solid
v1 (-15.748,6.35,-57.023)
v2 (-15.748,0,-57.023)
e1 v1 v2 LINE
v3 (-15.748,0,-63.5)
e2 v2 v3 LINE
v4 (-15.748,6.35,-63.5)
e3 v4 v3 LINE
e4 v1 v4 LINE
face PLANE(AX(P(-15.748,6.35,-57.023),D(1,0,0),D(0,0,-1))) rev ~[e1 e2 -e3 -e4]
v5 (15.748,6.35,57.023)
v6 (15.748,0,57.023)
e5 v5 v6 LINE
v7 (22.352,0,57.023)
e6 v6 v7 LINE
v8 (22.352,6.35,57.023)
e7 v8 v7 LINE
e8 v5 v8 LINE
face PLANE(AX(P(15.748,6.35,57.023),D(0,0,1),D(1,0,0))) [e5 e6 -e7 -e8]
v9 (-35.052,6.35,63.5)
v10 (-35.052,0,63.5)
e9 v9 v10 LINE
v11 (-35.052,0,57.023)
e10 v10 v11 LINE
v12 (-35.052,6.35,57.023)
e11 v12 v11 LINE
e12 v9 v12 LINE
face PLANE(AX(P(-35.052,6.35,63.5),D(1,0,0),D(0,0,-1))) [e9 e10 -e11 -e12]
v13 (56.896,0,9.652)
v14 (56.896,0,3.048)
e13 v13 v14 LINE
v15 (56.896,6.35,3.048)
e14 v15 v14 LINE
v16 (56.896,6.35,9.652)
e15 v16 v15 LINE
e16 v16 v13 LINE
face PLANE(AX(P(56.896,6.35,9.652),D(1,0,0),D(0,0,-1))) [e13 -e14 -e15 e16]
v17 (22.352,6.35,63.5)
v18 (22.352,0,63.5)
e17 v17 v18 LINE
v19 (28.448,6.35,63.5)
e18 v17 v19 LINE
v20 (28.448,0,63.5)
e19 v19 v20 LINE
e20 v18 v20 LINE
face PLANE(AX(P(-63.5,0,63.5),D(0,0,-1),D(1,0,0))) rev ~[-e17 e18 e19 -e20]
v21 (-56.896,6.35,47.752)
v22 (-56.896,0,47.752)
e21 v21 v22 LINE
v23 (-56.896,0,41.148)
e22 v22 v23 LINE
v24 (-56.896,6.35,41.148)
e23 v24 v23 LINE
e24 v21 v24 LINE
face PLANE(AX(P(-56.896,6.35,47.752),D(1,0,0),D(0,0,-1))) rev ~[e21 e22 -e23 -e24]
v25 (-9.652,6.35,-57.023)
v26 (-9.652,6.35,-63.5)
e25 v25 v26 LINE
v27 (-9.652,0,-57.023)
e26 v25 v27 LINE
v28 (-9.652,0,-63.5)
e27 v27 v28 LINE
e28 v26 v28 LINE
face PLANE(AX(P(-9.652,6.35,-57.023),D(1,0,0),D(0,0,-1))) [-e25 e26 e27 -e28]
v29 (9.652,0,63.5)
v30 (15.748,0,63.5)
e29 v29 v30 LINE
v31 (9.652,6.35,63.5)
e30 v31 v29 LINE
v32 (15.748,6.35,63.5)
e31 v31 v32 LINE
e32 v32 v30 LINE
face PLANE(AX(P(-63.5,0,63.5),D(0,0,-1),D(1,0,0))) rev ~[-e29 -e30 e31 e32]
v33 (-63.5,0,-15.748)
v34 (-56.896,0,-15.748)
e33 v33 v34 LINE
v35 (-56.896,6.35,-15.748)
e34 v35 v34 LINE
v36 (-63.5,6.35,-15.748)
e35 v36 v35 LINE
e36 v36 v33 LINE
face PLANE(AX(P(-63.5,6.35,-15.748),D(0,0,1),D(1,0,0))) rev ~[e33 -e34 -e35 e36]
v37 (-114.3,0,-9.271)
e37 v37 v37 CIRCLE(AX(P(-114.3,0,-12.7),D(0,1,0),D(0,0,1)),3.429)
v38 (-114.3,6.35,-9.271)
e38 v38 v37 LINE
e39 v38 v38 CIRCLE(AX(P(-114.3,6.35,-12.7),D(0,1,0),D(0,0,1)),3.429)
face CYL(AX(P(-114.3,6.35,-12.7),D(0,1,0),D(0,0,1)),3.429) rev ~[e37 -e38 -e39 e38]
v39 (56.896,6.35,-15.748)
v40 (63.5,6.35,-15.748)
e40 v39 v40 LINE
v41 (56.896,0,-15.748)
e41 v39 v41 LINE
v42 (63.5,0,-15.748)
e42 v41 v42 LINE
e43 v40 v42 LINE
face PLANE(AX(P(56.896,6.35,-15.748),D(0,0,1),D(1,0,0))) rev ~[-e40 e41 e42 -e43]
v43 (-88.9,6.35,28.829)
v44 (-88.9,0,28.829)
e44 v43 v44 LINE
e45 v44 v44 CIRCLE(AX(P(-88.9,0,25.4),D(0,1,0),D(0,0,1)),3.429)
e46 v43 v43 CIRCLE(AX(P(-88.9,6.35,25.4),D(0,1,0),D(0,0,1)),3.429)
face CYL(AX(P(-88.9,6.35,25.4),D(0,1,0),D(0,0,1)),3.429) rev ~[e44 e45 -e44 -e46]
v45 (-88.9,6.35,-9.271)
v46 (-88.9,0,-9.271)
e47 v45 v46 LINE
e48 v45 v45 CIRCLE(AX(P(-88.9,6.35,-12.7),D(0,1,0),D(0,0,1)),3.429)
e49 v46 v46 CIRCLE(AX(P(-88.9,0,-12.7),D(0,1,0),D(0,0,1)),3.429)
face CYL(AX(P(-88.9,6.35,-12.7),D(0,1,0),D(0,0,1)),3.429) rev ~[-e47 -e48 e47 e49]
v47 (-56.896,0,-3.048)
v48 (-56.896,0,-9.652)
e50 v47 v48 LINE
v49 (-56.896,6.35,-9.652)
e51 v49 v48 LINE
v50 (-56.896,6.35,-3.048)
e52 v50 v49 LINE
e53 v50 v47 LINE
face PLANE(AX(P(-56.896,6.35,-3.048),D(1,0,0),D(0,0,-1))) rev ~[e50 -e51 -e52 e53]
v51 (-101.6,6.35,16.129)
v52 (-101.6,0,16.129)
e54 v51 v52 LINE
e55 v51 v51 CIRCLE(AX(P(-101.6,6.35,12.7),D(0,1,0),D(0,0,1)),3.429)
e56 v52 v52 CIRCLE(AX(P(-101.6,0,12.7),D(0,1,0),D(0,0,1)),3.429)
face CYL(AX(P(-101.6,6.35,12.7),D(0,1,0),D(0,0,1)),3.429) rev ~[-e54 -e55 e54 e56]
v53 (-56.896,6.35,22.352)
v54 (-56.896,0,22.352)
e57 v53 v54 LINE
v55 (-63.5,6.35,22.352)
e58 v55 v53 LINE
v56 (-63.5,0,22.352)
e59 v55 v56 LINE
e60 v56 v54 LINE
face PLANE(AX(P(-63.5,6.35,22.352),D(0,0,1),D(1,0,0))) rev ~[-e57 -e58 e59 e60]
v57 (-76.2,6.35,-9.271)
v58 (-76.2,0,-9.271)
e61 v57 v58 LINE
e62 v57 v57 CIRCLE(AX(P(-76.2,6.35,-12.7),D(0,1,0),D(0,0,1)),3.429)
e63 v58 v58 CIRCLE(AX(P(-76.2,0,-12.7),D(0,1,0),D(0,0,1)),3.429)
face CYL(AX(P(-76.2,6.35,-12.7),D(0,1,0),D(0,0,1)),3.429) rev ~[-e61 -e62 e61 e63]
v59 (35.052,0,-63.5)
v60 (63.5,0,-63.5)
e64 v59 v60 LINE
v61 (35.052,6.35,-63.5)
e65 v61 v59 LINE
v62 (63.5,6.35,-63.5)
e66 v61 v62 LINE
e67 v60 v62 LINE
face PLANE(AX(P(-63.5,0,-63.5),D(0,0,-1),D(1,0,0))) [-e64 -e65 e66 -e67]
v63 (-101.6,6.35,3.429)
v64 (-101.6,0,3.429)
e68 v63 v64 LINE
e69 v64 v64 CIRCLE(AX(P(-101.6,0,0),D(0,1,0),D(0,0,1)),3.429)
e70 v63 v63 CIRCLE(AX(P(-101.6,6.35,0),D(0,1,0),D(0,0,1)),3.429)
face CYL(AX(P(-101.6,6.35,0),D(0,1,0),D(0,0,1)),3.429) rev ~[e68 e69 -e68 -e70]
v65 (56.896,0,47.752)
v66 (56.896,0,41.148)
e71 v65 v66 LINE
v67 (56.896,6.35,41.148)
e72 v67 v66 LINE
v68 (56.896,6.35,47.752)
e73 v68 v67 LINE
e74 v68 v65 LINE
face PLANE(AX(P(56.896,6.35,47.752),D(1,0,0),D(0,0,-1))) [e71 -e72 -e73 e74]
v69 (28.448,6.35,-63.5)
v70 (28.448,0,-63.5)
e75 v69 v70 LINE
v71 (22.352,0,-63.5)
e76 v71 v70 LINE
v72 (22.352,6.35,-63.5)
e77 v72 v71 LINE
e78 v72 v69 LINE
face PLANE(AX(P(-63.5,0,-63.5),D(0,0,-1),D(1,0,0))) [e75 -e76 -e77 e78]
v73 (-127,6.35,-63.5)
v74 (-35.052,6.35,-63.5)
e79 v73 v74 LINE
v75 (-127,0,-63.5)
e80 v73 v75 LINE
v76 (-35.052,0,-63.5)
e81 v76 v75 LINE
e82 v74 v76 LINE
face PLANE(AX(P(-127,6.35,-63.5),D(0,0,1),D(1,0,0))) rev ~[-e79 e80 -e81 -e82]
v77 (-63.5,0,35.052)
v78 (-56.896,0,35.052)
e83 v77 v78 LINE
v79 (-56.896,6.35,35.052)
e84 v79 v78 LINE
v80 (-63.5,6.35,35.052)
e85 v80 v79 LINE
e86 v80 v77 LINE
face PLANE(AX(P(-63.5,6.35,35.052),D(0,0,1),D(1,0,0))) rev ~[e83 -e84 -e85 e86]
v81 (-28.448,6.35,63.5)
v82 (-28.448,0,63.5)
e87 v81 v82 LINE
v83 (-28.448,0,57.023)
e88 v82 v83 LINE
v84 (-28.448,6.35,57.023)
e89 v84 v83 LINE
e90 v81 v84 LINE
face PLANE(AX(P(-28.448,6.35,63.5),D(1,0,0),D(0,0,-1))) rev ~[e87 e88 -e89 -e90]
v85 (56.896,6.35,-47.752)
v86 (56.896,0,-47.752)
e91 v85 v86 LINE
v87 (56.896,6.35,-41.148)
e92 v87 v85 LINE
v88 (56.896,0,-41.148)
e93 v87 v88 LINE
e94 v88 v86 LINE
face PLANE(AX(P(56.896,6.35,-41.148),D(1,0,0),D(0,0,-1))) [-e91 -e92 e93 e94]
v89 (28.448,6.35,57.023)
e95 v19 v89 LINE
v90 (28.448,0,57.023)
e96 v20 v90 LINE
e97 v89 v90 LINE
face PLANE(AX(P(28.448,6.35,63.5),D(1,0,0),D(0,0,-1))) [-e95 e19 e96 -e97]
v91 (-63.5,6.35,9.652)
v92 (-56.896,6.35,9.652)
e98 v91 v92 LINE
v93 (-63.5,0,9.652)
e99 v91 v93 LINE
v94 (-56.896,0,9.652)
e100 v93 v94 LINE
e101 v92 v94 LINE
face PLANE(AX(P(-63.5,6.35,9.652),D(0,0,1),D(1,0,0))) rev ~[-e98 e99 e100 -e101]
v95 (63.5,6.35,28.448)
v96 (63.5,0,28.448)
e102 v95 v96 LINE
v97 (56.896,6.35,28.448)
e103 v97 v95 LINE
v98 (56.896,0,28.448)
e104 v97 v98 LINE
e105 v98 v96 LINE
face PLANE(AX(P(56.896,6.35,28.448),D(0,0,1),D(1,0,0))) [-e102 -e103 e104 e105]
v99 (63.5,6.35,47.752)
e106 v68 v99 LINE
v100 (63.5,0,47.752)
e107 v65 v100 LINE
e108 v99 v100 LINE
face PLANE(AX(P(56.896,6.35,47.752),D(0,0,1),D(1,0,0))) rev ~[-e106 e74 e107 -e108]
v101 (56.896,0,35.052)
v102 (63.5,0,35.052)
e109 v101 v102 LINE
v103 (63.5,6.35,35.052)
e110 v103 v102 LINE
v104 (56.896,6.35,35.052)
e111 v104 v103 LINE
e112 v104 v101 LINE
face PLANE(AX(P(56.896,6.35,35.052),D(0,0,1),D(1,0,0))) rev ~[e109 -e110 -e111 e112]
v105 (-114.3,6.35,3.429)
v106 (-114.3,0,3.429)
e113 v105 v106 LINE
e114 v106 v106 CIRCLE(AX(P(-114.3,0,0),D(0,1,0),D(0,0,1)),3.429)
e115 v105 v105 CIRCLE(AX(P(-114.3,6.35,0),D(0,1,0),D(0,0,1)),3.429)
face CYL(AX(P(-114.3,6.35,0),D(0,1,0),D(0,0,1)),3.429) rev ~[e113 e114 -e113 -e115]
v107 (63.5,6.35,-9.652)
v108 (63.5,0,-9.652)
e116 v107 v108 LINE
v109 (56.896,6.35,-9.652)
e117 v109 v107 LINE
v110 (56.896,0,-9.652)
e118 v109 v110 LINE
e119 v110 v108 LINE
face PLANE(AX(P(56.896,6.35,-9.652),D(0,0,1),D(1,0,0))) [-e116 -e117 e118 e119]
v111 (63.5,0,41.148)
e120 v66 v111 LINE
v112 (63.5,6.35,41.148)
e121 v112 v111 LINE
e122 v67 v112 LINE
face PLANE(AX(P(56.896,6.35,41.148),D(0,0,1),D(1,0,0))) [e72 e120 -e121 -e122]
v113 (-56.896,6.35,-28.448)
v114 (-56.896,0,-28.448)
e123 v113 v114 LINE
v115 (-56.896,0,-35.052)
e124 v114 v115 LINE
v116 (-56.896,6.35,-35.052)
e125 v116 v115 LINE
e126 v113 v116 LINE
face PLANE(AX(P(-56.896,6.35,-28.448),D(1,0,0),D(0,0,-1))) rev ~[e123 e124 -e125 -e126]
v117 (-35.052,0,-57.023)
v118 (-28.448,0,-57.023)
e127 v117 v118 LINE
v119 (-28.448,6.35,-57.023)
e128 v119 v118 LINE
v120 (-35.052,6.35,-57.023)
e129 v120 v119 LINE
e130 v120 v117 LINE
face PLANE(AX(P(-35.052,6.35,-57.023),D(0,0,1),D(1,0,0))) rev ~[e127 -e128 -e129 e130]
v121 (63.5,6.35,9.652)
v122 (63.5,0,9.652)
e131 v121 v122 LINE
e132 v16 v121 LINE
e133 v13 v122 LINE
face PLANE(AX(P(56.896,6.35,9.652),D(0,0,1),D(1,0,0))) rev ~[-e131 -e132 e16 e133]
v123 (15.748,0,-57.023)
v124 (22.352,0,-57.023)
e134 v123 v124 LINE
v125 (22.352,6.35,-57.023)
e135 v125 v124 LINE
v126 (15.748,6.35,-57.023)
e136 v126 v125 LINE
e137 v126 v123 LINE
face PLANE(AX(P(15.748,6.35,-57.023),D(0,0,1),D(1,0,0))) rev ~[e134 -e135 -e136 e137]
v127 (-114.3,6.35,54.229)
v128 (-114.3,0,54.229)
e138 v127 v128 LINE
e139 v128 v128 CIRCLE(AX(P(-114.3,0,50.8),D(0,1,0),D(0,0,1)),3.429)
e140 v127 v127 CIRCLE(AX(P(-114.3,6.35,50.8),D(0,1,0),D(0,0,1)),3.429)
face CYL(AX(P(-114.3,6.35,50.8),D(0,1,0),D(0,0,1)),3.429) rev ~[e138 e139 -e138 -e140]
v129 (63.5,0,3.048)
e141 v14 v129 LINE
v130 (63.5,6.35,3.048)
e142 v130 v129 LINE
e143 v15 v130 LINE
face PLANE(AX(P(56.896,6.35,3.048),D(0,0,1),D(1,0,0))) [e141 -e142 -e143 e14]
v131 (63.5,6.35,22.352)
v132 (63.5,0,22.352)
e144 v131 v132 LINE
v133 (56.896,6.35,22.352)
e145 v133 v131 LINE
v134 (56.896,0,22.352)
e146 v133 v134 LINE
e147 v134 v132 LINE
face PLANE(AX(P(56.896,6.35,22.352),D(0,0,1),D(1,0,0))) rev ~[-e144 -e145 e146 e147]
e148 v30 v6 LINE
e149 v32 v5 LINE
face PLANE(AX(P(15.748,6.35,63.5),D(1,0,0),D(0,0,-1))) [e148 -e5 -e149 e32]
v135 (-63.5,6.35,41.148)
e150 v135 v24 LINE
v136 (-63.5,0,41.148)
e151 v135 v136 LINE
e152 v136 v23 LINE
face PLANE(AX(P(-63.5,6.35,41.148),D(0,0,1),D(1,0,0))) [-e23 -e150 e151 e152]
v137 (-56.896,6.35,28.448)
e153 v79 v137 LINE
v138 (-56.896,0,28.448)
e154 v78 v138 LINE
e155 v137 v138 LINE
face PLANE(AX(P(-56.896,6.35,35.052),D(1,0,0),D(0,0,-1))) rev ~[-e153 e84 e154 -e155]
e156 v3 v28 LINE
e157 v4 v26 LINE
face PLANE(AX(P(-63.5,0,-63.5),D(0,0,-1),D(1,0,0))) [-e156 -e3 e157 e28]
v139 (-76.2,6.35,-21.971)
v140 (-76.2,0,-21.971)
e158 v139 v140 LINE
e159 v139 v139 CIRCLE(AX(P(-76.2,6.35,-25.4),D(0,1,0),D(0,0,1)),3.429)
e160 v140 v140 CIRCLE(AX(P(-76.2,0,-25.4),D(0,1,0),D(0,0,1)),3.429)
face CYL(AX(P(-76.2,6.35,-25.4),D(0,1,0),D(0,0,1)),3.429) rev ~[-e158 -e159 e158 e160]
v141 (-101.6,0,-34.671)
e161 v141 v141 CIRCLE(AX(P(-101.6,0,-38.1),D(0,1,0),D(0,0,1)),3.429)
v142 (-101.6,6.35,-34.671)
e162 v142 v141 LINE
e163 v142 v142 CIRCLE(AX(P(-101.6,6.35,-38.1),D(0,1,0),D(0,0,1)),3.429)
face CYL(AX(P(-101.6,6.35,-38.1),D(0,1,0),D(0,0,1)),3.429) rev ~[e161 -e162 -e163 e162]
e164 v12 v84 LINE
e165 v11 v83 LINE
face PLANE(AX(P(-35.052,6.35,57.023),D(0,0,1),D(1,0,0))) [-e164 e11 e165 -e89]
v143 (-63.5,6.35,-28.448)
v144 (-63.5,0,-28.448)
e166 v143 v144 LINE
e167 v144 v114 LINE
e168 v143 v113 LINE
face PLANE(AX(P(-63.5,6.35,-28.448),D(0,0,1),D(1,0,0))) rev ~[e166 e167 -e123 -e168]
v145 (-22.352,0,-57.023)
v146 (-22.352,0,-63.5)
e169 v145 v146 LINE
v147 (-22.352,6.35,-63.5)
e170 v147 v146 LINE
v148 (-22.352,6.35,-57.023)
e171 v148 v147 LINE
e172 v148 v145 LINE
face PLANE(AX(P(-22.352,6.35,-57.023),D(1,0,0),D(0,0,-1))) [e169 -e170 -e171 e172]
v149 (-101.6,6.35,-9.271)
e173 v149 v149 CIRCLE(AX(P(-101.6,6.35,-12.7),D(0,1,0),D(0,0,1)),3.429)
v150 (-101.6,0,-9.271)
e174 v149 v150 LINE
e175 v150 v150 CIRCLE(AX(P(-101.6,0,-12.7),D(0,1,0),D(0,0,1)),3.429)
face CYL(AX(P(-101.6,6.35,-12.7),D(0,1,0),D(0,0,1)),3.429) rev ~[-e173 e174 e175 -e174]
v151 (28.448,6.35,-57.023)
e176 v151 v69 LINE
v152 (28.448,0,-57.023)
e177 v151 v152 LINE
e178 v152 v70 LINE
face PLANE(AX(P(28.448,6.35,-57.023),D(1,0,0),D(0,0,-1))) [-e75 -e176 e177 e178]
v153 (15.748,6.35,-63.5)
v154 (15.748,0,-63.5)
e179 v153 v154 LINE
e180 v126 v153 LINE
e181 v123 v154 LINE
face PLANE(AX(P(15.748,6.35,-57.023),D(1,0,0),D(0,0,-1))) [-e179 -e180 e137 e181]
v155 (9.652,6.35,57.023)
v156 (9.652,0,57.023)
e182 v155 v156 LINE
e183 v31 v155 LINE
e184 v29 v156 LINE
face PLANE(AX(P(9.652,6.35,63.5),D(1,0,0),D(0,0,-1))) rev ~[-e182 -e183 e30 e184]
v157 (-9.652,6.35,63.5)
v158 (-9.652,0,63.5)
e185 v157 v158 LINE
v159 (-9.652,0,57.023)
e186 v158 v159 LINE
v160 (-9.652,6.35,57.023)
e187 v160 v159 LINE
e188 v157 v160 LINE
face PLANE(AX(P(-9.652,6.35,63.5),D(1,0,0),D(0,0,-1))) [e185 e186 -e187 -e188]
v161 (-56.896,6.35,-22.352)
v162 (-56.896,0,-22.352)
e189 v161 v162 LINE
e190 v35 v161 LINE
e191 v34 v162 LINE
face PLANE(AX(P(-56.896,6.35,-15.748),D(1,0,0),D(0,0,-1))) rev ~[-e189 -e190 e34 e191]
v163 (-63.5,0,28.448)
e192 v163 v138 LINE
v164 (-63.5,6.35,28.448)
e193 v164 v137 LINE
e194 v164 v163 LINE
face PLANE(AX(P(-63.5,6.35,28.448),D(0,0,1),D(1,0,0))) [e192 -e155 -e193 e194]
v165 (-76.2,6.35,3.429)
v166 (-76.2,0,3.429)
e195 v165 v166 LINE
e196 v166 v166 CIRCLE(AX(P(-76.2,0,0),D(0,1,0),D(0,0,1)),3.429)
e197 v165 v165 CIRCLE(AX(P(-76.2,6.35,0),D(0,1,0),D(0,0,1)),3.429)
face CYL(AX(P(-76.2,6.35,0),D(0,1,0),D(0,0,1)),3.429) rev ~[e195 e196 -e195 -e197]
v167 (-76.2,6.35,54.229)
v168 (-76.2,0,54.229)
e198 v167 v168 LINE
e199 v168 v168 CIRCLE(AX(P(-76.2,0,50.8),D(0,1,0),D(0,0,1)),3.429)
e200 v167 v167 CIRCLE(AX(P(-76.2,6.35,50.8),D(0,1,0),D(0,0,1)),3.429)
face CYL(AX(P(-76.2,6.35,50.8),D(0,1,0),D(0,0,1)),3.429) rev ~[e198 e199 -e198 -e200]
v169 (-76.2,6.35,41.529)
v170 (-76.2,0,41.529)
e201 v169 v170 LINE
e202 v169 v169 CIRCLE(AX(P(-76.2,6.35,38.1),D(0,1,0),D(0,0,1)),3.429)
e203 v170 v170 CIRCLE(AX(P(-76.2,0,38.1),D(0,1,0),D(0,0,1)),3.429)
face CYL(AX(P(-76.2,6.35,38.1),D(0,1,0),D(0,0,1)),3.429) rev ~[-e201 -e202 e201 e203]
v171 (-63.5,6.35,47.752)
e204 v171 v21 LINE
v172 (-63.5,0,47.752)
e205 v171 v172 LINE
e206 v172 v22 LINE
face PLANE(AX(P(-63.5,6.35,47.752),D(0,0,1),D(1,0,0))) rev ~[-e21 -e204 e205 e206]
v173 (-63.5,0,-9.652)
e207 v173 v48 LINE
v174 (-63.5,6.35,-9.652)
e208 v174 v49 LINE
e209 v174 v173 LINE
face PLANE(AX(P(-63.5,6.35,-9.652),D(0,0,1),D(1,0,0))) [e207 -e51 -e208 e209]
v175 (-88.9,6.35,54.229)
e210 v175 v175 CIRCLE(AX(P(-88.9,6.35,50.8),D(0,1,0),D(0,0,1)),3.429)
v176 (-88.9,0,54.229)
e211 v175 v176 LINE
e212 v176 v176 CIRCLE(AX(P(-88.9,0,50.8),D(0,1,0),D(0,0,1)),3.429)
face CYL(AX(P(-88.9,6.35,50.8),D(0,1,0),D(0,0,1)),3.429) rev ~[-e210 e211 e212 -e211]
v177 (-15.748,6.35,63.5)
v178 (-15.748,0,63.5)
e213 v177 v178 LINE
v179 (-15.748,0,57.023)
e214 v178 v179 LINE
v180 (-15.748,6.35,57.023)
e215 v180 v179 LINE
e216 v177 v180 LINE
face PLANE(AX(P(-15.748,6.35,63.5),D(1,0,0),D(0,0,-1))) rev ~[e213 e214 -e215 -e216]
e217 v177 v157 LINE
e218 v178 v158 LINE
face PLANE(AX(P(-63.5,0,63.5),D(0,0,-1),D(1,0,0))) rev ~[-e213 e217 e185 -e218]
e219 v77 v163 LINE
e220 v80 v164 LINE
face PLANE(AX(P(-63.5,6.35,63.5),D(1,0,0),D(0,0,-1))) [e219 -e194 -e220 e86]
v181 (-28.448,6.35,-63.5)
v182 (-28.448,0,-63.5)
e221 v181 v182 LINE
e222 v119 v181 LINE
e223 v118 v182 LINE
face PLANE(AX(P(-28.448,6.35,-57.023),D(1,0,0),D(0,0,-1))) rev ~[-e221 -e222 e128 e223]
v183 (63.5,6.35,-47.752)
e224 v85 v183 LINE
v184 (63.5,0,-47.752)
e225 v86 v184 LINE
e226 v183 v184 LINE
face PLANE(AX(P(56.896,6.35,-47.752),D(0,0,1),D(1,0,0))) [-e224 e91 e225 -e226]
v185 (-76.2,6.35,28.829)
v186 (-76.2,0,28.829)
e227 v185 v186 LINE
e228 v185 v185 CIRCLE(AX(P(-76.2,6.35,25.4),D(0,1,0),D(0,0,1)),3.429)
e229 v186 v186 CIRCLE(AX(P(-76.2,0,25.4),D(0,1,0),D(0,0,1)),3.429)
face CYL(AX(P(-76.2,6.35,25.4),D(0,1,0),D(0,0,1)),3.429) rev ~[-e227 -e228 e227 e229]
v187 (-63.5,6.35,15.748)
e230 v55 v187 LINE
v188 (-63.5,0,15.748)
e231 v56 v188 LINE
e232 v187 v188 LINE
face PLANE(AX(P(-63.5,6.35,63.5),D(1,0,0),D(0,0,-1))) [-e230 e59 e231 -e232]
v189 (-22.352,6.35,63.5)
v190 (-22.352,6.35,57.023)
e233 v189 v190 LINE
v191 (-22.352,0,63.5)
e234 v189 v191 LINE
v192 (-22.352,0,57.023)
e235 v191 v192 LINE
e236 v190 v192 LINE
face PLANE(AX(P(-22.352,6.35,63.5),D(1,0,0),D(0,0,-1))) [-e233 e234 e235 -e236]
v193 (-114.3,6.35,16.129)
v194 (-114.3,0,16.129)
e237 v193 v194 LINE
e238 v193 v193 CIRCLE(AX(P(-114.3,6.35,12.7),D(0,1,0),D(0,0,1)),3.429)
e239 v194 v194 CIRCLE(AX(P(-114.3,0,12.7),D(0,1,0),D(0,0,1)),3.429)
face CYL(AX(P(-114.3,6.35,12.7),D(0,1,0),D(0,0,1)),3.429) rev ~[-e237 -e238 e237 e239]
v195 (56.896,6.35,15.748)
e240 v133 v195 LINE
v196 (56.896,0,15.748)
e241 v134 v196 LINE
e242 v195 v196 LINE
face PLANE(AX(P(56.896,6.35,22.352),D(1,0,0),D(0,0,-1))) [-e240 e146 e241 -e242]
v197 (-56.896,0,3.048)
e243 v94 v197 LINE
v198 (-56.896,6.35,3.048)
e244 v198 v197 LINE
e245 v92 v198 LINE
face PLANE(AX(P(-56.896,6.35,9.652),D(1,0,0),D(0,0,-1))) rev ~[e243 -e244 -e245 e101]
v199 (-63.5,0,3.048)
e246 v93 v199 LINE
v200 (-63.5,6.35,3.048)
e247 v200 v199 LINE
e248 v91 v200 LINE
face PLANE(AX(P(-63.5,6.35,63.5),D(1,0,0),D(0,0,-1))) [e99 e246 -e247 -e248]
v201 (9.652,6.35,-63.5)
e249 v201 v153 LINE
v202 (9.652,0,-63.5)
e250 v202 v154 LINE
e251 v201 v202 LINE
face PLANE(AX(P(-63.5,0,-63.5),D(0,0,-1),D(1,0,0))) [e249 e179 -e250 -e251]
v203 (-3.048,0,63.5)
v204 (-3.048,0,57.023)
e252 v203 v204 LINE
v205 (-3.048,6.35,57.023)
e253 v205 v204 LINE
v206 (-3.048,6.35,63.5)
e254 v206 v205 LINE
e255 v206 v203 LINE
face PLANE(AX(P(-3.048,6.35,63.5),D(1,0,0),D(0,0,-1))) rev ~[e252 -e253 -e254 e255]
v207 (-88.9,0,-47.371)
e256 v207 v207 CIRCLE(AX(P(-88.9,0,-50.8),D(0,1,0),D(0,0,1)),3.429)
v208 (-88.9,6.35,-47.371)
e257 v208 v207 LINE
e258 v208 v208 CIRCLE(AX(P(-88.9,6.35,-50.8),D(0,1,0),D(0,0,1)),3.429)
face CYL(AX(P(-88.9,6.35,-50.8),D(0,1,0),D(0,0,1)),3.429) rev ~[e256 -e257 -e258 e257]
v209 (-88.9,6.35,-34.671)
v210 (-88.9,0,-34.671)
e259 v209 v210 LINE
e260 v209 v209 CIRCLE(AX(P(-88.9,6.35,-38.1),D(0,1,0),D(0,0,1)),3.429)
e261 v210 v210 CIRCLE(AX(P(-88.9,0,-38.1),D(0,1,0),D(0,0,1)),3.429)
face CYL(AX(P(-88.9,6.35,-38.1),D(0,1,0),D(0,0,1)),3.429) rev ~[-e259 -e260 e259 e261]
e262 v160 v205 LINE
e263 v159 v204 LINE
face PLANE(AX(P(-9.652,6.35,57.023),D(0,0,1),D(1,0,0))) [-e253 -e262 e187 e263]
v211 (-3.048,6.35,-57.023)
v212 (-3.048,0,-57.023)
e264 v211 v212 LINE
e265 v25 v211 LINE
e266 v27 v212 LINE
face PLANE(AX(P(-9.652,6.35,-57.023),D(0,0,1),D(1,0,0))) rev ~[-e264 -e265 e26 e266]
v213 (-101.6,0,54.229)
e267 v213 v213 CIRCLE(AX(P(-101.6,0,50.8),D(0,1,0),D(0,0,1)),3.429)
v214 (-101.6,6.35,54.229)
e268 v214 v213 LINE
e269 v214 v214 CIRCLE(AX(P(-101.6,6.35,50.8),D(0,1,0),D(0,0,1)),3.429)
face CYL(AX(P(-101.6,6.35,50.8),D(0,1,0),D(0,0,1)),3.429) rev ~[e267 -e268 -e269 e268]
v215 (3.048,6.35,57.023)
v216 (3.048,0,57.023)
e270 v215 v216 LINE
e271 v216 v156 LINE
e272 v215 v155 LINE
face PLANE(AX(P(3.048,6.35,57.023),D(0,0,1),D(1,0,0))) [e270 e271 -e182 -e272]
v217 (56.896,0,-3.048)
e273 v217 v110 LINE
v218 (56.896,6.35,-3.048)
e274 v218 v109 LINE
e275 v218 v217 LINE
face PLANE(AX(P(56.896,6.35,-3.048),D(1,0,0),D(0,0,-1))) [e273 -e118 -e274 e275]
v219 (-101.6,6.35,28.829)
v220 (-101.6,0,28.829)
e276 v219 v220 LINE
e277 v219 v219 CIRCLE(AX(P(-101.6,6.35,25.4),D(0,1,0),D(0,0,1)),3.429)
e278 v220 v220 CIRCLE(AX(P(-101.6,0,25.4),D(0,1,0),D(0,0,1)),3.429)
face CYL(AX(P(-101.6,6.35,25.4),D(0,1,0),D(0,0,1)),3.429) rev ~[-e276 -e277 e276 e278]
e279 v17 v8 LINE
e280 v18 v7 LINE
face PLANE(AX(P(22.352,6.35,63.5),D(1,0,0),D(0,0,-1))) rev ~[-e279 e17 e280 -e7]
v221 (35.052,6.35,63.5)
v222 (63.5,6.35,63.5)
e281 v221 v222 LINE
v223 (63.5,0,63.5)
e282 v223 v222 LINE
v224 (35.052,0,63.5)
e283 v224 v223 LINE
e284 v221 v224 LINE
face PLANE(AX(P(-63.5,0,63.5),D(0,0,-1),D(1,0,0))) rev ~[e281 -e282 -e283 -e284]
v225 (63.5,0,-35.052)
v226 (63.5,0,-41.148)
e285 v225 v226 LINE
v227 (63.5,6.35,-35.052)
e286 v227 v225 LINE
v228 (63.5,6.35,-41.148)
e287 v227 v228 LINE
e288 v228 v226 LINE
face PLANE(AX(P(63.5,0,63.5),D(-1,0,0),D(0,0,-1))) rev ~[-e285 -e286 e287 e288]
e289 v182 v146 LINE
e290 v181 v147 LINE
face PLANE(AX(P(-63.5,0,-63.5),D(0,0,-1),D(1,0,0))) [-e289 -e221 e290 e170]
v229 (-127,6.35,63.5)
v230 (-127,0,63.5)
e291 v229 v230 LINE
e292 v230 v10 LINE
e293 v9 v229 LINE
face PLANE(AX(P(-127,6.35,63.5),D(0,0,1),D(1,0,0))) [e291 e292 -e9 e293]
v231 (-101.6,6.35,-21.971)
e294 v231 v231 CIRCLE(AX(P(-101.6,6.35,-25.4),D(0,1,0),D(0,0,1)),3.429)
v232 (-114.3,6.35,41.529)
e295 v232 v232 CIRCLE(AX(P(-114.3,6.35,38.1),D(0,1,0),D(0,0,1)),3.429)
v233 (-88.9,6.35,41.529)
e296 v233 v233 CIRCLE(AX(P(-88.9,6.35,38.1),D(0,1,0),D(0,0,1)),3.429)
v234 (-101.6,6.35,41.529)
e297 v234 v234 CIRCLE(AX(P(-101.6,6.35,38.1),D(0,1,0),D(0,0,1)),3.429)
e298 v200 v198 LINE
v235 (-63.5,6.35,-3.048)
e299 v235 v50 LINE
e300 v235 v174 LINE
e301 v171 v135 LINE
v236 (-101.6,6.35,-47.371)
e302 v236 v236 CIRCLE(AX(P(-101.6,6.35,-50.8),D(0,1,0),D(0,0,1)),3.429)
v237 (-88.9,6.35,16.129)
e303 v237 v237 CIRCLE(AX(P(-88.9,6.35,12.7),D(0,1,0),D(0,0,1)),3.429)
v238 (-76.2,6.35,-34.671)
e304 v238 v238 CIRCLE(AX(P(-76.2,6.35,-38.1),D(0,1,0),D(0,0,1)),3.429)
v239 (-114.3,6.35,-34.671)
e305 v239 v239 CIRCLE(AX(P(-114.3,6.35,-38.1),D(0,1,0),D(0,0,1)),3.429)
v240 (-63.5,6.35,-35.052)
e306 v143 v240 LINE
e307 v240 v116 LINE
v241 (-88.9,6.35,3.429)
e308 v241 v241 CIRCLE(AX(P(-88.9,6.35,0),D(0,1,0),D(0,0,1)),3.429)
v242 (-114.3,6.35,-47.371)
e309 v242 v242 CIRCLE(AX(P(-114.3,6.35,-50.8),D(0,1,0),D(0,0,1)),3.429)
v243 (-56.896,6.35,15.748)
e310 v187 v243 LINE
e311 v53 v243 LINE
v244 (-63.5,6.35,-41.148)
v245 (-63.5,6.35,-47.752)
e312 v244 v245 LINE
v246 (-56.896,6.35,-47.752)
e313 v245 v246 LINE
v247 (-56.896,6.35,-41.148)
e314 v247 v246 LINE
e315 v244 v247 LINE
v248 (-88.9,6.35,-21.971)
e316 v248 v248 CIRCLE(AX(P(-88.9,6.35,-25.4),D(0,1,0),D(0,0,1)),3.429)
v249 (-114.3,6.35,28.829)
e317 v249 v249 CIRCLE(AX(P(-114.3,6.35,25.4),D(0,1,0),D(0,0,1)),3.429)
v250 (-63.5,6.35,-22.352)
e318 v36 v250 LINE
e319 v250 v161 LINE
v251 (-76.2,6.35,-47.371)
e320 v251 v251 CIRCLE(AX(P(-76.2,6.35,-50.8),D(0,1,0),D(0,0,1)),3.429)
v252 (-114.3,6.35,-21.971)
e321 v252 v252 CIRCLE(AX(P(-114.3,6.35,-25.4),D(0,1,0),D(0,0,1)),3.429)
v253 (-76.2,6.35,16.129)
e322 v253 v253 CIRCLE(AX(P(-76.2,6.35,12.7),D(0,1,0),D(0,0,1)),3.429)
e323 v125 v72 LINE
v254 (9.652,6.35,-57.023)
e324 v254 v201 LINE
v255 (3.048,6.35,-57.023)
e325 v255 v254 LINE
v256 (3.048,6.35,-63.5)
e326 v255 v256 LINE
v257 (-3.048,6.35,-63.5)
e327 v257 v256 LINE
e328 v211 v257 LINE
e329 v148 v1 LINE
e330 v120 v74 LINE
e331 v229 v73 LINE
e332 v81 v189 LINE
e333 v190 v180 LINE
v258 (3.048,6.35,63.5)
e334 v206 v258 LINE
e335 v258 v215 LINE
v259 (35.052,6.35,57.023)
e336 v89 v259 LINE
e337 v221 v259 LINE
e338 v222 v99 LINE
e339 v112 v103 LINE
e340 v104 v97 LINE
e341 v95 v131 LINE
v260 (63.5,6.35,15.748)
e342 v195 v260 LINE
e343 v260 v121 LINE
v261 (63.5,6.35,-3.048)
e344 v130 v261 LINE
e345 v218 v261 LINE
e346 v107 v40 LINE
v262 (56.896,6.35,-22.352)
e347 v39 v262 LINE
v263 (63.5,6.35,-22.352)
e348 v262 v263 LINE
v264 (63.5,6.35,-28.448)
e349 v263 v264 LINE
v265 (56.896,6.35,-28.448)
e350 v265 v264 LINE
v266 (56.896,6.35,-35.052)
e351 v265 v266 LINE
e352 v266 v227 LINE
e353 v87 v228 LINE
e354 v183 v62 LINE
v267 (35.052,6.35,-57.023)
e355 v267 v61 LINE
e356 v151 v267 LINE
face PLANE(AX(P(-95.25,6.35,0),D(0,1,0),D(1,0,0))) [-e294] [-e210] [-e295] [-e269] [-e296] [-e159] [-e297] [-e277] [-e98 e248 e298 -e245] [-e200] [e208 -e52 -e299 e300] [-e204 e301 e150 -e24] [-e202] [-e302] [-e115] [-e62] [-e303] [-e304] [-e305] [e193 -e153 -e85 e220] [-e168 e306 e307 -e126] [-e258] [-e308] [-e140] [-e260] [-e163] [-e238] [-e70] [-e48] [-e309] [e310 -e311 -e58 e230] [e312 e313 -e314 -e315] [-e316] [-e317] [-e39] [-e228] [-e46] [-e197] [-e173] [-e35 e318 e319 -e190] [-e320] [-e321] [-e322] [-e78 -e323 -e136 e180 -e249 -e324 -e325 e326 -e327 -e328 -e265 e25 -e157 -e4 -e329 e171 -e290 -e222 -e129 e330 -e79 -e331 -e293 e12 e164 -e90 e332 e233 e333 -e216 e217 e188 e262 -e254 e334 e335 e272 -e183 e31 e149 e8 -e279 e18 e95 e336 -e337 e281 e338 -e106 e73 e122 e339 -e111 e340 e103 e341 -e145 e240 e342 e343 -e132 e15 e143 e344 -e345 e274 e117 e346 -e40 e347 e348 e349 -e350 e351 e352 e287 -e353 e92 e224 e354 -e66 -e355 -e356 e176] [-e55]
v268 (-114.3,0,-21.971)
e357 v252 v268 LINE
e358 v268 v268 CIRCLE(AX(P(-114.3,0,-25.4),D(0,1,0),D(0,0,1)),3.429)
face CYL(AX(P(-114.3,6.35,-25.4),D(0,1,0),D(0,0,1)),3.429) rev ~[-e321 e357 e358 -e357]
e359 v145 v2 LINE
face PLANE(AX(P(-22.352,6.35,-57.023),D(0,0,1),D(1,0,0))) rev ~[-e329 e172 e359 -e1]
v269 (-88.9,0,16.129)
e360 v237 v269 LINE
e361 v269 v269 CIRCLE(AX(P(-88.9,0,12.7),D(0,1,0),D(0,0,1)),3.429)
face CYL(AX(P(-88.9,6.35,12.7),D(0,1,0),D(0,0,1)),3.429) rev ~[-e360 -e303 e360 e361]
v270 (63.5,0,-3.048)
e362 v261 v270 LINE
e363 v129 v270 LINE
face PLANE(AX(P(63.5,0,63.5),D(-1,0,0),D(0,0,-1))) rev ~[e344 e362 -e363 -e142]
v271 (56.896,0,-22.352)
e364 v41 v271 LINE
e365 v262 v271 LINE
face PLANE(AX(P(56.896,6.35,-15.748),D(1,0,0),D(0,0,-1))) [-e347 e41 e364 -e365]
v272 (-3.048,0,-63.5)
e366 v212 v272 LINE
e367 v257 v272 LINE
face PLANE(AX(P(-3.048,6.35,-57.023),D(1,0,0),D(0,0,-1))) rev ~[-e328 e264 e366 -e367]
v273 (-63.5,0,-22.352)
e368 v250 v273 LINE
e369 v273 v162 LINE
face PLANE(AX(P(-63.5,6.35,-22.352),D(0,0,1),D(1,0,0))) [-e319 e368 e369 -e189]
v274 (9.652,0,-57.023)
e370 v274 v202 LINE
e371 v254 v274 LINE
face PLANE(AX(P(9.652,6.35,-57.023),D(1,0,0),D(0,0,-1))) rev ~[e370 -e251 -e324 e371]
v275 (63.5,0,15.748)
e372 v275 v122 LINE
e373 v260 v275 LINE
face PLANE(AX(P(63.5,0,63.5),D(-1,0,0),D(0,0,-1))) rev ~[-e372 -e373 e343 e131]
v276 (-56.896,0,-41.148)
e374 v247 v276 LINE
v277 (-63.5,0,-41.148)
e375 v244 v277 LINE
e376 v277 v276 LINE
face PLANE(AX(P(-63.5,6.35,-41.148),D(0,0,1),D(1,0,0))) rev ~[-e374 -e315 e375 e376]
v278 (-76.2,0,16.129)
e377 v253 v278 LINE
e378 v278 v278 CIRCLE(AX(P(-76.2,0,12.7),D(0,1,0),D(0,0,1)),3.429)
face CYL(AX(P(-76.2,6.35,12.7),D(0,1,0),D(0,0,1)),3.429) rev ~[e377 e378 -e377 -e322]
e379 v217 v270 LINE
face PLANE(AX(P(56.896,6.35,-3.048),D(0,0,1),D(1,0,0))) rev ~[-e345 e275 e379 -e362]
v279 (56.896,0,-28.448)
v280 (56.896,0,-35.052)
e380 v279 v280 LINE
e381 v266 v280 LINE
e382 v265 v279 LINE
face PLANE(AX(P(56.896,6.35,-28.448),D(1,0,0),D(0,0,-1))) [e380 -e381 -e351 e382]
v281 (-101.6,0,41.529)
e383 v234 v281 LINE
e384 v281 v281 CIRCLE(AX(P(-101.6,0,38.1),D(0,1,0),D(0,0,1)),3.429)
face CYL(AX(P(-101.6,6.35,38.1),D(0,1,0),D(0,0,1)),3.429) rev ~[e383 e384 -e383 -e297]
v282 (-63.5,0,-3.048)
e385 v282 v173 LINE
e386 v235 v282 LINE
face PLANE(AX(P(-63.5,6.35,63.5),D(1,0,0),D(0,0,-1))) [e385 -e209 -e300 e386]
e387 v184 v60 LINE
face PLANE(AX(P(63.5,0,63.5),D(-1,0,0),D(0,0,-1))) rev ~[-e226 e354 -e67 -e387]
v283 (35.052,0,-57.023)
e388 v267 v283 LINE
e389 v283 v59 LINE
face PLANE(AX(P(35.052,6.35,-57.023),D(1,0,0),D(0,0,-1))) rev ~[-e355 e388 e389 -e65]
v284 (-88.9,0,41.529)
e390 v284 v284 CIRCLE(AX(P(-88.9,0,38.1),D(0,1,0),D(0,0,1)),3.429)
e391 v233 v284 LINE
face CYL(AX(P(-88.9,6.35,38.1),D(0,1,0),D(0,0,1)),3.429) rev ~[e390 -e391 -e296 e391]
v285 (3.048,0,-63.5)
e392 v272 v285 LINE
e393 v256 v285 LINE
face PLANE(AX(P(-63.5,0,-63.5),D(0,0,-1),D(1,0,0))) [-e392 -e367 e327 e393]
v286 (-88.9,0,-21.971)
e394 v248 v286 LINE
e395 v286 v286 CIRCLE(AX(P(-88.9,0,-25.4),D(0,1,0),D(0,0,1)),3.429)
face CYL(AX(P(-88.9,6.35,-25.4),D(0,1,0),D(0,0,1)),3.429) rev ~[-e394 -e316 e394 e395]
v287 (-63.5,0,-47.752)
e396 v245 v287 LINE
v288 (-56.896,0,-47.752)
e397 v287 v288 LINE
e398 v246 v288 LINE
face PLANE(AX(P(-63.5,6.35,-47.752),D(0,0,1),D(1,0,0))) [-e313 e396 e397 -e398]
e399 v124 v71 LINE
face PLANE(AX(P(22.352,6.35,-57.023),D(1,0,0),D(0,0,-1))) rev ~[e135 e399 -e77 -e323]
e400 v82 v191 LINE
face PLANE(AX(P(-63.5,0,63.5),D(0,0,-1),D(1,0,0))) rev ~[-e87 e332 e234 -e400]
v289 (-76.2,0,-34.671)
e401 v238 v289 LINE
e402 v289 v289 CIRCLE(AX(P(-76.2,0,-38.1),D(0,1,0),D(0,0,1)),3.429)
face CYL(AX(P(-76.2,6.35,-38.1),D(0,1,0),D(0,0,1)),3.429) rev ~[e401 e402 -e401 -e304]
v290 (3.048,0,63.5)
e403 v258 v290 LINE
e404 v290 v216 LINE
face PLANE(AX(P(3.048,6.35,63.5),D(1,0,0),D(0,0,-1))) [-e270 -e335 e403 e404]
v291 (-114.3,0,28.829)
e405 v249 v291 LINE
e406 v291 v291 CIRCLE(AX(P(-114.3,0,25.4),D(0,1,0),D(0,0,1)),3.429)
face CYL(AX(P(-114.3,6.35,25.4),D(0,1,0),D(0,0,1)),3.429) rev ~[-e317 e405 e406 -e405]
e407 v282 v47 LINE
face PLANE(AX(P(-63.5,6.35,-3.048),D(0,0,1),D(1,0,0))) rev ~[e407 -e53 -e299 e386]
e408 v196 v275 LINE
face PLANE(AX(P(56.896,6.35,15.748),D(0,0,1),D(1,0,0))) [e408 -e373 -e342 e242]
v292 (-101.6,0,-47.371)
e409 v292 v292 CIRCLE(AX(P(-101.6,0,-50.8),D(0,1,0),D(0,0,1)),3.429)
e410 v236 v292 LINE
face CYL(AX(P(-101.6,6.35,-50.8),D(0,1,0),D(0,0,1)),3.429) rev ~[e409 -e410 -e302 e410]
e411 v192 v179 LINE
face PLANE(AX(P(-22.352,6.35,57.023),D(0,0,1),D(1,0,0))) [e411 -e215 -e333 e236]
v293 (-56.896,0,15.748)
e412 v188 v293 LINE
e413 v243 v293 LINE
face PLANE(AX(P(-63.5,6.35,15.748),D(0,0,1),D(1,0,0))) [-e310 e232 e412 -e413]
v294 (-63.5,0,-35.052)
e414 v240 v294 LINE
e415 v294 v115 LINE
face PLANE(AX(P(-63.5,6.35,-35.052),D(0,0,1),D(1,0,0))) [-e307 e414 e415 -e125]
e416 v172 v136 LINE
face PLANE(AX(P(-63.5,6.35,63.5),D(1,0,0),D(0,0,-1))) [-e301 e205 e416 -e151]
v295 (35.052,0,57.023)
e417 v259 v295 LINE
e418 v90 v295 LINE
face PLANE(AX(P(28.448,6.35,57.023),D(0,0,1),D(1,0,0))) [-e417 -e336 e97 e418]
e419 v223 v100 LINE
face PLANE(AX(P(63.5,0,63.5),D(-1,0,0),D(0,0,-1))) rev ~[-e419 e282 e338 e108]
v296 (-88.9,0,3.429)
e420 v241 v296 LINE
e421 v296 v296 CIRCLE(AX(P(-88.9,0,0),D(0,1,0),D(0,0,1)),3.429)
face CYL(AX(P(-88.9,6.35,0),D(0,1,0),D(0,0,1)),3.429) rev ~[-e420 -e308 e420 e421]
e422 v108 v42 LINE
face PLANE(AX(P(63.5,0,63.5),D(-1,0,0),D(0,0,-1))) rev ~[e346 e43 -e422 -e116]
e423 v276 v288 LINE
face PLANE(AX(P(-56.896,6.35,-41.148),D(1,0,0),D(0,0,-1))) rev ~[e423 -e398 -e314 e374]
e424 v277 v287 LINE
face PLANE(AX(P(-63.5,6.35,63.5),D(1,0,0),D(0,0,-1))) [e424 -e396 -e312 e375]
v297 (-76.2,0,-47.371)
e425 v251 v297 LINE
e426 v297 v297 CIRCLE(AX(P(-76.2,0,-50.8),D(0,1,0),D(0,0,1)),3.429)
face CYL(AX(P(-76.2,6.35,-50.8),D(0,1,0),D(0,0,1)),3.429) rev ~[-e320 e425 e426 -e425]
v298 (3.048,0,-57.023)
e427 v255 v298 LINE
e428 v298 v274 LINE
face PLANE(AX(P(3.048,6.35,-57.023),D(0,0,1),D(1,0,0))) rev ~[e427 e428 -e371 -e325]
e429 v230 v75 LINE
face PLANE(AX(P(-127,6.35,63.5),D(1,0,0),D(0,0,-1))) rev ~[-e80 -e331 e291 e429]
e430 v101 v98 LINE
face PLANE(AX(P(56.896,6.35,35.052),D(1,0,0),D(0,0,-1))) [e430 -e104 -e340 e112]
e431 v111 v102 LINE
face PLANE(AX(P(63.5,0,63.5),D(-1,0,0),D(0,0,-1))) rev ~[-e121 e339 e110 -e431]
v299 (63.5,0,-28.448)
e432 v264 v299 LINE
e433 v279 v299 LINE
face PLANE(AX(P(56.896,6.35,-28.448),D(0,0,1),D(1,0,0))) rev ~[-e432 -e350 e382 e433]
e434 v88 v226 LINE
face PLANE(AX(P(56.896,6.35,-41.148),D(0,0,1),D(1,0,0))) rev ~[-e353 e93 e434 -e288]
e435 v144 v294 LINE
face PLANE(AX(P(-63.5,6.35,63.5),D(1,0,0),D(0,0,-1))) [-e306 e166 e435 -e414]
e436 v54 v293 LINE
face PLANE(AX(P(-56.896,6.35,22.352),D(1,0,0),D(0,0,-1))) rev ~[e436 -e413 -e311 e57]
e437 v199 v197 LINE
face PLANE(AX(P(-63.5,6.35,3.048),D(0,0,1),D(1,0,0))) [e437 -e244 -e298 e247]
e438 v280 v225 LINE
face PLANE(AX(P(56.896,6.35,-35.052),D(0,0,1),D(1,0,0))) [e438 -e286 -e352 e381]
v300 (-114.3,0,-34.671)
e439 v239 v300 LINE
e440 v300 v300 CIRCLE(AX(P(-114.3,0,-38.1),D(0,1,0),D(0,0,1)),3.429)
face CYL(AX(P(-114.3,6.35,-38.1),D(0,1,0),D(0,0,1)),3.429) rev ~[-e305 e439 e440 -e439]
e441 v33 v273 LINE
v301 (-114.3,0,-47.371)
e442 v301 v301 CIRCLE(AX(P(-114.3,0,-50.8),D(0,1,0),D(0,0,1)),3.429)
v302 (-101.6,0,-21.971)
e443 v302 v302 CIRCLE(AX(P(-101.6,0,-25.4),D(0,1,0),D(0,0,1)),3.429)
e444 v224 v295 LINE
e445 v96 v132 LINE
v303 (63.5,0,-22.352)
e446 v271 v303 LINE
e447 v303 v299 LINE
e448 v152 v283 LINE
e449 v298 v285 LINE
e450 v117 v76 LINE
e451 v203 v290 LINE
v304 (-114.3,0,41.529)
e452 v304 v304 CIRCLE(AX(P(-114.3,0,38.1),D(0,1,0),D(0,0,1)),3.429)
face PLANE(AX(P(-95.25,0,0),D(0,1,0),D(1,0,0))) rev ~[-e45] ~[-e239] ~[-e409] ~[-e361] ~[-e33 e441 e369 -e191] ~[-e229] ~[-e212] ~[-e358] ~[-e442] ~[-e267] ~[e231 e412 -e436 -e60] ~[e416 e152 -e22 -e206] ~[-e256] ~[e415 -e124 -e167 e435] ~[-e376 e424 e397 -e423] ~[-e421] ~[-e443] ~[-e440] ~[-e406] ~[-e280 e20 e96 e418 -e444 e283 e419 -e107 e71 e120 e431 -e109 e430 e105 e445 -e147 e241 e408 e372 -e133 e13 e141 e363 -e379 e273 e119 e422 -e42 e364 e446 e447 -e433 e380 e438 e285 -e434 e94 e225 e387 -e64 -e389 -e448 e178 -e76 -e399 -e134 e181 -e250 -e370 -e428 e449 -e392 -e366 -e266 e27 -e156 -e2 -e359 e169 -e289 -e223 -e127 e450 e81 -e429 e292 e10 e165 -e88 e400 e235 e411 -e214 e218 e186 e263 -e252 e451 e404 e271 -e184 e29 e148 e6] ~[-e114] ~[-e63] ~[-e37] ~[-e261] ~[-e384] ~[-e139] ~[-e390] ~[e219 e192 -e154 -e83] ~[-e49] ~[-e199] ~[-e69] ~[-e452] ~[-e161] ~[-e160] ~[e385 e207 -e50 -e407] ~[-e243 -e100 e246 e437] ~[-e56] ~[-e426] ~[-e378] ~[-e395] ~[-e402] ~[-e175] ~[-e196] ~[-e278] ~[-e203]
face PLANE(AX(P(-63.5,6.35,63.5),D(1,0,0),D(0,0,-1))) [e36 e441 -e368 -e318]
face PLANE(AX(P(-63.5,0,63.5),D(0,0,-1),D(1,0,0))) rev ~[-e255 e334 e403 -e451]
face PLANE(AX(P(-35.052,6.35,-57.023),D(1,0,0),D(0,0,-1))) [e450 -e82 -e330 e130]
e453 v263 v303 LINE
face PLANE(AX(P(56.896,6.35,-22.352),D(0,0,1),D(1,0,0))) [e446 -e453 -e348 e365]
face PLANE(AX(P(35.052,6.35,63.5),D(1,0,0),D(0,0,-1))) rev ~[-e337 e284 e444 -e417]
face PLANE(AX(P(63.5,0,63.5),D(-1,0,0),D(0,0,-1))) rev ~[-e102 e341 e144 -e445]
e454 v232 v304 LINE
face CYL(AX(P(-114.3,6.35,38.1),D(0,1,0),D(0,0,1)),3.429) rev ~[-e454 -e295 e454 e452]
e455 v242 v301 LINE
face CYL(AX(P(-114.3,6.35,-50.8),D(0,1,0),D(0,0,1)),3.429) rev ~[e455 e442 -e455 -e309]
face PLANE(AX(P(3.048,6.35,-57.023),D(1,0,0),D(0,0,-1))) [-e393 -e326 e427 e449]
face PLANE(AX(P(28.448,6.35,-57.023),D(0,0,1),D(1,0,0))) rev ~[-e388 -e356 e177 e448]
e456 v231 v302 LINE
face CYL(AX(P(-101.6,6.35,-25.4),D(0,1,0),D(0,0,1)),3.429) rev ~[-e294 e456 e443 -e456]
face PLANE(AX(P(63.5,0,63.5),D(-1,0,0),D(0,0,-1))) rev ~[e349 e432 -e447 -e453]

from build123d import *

# Parameters (mm, degrees)
SKETCH1_W           = 127
SKETCH1_H           = 127
BOSS_EXTRUDE1_DEPTH = 6.35
SKETCH2_W           = 6.604
SKETCH2_H           = 6.477
SKETCH2_H_2         = 6.604
CUT_EXTRUDE1_DEPTH  = 91.02678768
SKETCH3_W           = 63.5
SKETCH3_H           = 127
SKETCH3_R           = 3.429
BOSS_EXTRUDE2_DEPTH = 6.35


with BuildPart() as part:
    # Sketch1 → Boss-Extrude1 (new body)
    with BuildSketch(Plane(origin=(0, 0, 0), x_dir=(1, 0, 0), z_dir=(0, 1, 0))):
        Rectangle(SKETCH1_W, SKETCH1_H)
    extrude(amount=BOSS_EXTRUDE1_DEPTH)

    # Sketch2 → Cut-Extrude1 (cut, through all)
    with BuildSketch(Plane(origin=(0, 6.35, 0), x_dir=(1, 0, 0), z_dir=(0, 1, 0))):
        with Locations((-31.75, -60.2615)):
            Rectangle(SKETCH2_W, SKETCH2_H)
        with Locations((-19.05, -60.2615)):
            Rectangle(SKETCH2_W, SKETCH2_H)
        with Locations((-6.35, -60.2615)):
            Rectangle(SKETCH2_W, SKETCH2_H)
        with Locations((6.35, -60.2615)):
            Rectangle(SKETCH2_W, SKETCH2_H)
        with Locations((19.05, -60.2615)):
            Rectangle(SKETCH2_W, SKETCH2_H)
        with Locations((31.75, -60.2615)):
            Rectangle(SKETCH2_W, SKETCH2_H)
        with Locations((31.75, 60.2615)):
            Rectangle(SKETCH2_W, SKETCH2_H)
        with Locations((19.05, 60.2615)):
            Rectangle(SKETCH2_W, SKETCH2_H)
        with Locations((6.35, 60.2615)):
            Rectangle(SKETCH2_W, SKETCH2_H)
        with Locations((-6.35, 60.2615)):
            Rectangle(SKETCH2_W, SKETCH2_H)
        with Locations((-19.05, 60.2615)):
            Rectangle(SKETCH2_W, SKETCH2_H)
        with Locations((-31.75, 60.2615)):
            Rectangle(SKETCH2_W, SKETCH2_H)
        with Locations((-60.198, 31.75)):
            Rectangle(SKETCH2_W, SKETCH2_H_2)
        with Locations((-60.198, 19.05)):
            Rectangle(SKETCH2_W, SKETCH2_H_2)
        with Locations((-60.198, 6.35)):
            Rectangle(SKETCH2_W, SKETCH2_H_2)
        with Locations((-60.198, -6.35)):
            Rectangle(SKETCH2_W, SKETCH2_H_2)
        with Locations((-60.198, -19.05)):
            Rectangle(SKETCH2_W, SKETCH2_H_2)
        with Locations((-60.198, -31.75)):
            Rectangle(SKETCH2_W, SKETCH2_H_2)
        with Locations((60.198, -31.75)):
            Rectangle(SKETCH2_W, SKETCH2_H_2)
        with Locations((60.198, -19.05)):
            Rectangle(SKETCH2_W, SKETCH2_H_2)
        with Locations((60.198, -6.35)):
            Rectangle(SKETCH2_W, SKETCH2_H_2)
        with Locations((60.198, 6.35)):
            Rectangle(SKETCH2_W, SKETCH2_H_2)
        with Locations((60.198, 19.05)):
            Rectangle(SKETCH2_W, SKETCH2_H_2)
        with Locations((60.198, 31.75)):
            Rectangle(SKETCH2_W, SKETCH2_H_2)
        with Locations((-60.198, 44.45)):
            Rectangle(SKETCH2_W, SKETCH2_H_2)
        with Locations((-60.198, -44.45)):
            Rectangle(SKETCH2_W, SKETCH2_H_2)
        with Locations((60.198, -44.45)):
            Rectangle(SKETCH2_W, SKETCH2_H_2)
        with Locations((60.198, 44.45)):
            Rectangle(SKETCH2_W, SKETCH2_H_2)
    extrude(amount=-CUT_EXTRUDE1_DEPTH, mode=Mode.SUBTRACT)

    # Sketch3 → Boss-Extrude2 (add)
    with BuildSketch(Plane(origin=(0, 6.35, 0), x_dir=(1, 0, 0), z_dir=(0, 1, 0))):
        with Locations((-95.25, 0)):
            Rectangle(SKETCH3_W, SKETCH3_H)
        with Locations(Location((-114.3, 50.8, 0), (0, 0, 270))):
            Circle(SKETCH3_R, mode=Mode.SUBTRACT)
        with Locations(Location((-101.6, 50.8, 0), (0, 0, 270))):
            Circle(SKETCH3_R, mode=Mode.SUBTRACT)
        with Locations(Location((-101.6, 38.1, 0), (0, 0, 270))):
            Circle(SKETCH3_R, mode=Mode.SUBTRACT)
        with Locations(Location((-114.3, 38.1, 0), (0, 0, 270))):
            Circle(SKETCH3_R, mode=Mode.SUBTRACT)
        with Locations(Location((-114.3, 25.4, 0), (0, 0, 270))):
            Circle(SKETCH3_R, mode=Mode.SUBTRACT)
        with Locations(Location((-101.6, 25.4, 0), (0, 0, 270))):
            Circle(SKETCH3_R, mode=Mode.SUBTRACT)
        with Locations(Location((-88.9, 50.8, 0), (0, 0, 270))):
            Circle(SKETCH3_R, mode=Mode.SUBTRACT)
        with Locations(Location((-76.2, 50.8, 0), (0, 0, 270))):
            Circle(SKETCH3_R, mode=Mode.SUBTRACT)
        with Locations(Location((-88.9, 38.1, 0), (0, 0, 270))):
            Circle(SKETCH3_R, mode=Mode.SUBTRACT)
        with Locations(Location((-76.2, 38.1, 0), (0, 0, 270))):
            Circle(SKETCH3_R, mode=Mode.SUBTRACT)
        with Locations(Location((-88.9, 25.4, 0), (0, 0, 270))):
            Circle(SKETCH3_R, mode=Mode.SUBTRACT)
        with Locations(Location((-76.2, 25.4, 0), (0, 0, 270))):
            Circle(SKETCH3_R, mode=Mode.SUBTRACT)
        with Locations(Location((-114.3, 12.7, 0), (0, 0, 270))):
            Circle(SKETCH3_R, mode=Mode.SUBTRACT)
        with Locations(Location((-101.6, 12.7, 0), (0, 0, 270))):
            Circle(SKETCH3_R, mode=Mode.SUBTRACT)
        with Locations(Location((-88.9, 12.7, 0), (0, 0, 270))):
            Circle(SKETCH3_R, mode=Mode.SUBTRACT)
        with Locations(Location((-76.2, 12.7, 0), (0, 0, 270))):
            Circle(SKETCH3_R, mode=Mode.SUBTRACT)
        with Locations(Location((-114.3, 0, 0), (0, 0, 270))):
            Circle(SKETCH3_R, mode=Mode.SUBTRACT)
        with Locations(Location((-101.6, 0, 0), (0, 0, 270))):
            Circle(SKETCH3_R, mode=Mode.SUBTRACT)
        with Locations(Location((-88.9, 0, 0), (0, 0, 270))):
            Circle(SKETCH3_R, mode=Mode.SUBTRACT)
        with Locations(Location((-76.2, 0, 0), (0, 0, 270))):
            Circle(SKETCH3_R, mode=Mode.SUBTRACT)
        with Locations(Location((-114.3, -12.7, 0), (0, 0, 270))):
            Circle(SKETCH3_R, mode=Mode.SUBTRACT)
        with Locations(Location((-101.6, -12.7, 0), (0, 0, 270))):
            Circle(SKETCH3_R, mode=Mode.SUBTRACT)
        with Locations(Location((-88.9, -12.7, 0), (0, 0, 270))):
            Circle(SKETCH3_R, mode=Mode.SUBTRACT)
        with Locations(Location((-76.2, -12.7, 0), (0, 0, 270))):
            Circle(SKETCH3_R, mode=Mode.SUBTRACT)
        with Locations(Location((-114.3, -25.4, 0), (0, 0, 270))):
            Circle(SKETCH3_R, mode=Mode.SUBTRACT)
        with Locations(Location((-101.6, -25.4, 0), (0, 0, 270))):
            Circle(SKETCH3_R, mode=Mode.SUBTRACT)
        with Locations(Location((-88.9, -25.4, 0), (0, 0, 270))):
            Circle(SKETCH3_R, mode=Mode.SUBTRACT)
        with Locations(Location((-76.2, -25.4, 0), (0, 0, 270))):
            Circle(SKETCH3_R, mode=Mode.SUBTRACT)
        with Locations(Location((-114.3, -38.1, 0), (0, 0, 270))):
            Circle(SKETCH3_R, mode=Mode.SUBTRACT)
        with Locations(Location((-101.6, -38.1, 0), (0, 0, 270))):
            Circle(SKETCH3_R, mode=Mode.SUBTRACT)
        with Locations(Location((-88.9, -38.1, 0), (0, 0, 270))):
            Circle(SKETCH3_R, mode=Mode.SUBTRACT)
        with Locations(Location((-76.2, -38.1, 0), (0, 0, 270))):
            Circle(SKETCH3_R, mode=Mode.SUBTRACT)
        with Locations(Location((-114.3, -50.8, 0), (0, 0, 270))):
            Circle(SKETCH3_R, mode=Mode.SUBTRACT)
        with Locations(Location((-101.6, -50.8, 0), (0, 0, 270))):
            Circle(SKETCH3_R, mode=Mode.SUBTRACT)
        with Locations(Location((-88.9, -50.8, 0), (0, 0, 270))):
            Circle(SKETCH3_R, mode=Mode.SUBTRACT)
        with Locations(Location((-76.2, -50.8, 0), (0, 0, 270))):
            Circle(SKETCH3_R, mode=Mode.SUBTRACT)
    extrude(amount=-BOSS_EXTRUDE2_DEPTH)


solid = part.part
